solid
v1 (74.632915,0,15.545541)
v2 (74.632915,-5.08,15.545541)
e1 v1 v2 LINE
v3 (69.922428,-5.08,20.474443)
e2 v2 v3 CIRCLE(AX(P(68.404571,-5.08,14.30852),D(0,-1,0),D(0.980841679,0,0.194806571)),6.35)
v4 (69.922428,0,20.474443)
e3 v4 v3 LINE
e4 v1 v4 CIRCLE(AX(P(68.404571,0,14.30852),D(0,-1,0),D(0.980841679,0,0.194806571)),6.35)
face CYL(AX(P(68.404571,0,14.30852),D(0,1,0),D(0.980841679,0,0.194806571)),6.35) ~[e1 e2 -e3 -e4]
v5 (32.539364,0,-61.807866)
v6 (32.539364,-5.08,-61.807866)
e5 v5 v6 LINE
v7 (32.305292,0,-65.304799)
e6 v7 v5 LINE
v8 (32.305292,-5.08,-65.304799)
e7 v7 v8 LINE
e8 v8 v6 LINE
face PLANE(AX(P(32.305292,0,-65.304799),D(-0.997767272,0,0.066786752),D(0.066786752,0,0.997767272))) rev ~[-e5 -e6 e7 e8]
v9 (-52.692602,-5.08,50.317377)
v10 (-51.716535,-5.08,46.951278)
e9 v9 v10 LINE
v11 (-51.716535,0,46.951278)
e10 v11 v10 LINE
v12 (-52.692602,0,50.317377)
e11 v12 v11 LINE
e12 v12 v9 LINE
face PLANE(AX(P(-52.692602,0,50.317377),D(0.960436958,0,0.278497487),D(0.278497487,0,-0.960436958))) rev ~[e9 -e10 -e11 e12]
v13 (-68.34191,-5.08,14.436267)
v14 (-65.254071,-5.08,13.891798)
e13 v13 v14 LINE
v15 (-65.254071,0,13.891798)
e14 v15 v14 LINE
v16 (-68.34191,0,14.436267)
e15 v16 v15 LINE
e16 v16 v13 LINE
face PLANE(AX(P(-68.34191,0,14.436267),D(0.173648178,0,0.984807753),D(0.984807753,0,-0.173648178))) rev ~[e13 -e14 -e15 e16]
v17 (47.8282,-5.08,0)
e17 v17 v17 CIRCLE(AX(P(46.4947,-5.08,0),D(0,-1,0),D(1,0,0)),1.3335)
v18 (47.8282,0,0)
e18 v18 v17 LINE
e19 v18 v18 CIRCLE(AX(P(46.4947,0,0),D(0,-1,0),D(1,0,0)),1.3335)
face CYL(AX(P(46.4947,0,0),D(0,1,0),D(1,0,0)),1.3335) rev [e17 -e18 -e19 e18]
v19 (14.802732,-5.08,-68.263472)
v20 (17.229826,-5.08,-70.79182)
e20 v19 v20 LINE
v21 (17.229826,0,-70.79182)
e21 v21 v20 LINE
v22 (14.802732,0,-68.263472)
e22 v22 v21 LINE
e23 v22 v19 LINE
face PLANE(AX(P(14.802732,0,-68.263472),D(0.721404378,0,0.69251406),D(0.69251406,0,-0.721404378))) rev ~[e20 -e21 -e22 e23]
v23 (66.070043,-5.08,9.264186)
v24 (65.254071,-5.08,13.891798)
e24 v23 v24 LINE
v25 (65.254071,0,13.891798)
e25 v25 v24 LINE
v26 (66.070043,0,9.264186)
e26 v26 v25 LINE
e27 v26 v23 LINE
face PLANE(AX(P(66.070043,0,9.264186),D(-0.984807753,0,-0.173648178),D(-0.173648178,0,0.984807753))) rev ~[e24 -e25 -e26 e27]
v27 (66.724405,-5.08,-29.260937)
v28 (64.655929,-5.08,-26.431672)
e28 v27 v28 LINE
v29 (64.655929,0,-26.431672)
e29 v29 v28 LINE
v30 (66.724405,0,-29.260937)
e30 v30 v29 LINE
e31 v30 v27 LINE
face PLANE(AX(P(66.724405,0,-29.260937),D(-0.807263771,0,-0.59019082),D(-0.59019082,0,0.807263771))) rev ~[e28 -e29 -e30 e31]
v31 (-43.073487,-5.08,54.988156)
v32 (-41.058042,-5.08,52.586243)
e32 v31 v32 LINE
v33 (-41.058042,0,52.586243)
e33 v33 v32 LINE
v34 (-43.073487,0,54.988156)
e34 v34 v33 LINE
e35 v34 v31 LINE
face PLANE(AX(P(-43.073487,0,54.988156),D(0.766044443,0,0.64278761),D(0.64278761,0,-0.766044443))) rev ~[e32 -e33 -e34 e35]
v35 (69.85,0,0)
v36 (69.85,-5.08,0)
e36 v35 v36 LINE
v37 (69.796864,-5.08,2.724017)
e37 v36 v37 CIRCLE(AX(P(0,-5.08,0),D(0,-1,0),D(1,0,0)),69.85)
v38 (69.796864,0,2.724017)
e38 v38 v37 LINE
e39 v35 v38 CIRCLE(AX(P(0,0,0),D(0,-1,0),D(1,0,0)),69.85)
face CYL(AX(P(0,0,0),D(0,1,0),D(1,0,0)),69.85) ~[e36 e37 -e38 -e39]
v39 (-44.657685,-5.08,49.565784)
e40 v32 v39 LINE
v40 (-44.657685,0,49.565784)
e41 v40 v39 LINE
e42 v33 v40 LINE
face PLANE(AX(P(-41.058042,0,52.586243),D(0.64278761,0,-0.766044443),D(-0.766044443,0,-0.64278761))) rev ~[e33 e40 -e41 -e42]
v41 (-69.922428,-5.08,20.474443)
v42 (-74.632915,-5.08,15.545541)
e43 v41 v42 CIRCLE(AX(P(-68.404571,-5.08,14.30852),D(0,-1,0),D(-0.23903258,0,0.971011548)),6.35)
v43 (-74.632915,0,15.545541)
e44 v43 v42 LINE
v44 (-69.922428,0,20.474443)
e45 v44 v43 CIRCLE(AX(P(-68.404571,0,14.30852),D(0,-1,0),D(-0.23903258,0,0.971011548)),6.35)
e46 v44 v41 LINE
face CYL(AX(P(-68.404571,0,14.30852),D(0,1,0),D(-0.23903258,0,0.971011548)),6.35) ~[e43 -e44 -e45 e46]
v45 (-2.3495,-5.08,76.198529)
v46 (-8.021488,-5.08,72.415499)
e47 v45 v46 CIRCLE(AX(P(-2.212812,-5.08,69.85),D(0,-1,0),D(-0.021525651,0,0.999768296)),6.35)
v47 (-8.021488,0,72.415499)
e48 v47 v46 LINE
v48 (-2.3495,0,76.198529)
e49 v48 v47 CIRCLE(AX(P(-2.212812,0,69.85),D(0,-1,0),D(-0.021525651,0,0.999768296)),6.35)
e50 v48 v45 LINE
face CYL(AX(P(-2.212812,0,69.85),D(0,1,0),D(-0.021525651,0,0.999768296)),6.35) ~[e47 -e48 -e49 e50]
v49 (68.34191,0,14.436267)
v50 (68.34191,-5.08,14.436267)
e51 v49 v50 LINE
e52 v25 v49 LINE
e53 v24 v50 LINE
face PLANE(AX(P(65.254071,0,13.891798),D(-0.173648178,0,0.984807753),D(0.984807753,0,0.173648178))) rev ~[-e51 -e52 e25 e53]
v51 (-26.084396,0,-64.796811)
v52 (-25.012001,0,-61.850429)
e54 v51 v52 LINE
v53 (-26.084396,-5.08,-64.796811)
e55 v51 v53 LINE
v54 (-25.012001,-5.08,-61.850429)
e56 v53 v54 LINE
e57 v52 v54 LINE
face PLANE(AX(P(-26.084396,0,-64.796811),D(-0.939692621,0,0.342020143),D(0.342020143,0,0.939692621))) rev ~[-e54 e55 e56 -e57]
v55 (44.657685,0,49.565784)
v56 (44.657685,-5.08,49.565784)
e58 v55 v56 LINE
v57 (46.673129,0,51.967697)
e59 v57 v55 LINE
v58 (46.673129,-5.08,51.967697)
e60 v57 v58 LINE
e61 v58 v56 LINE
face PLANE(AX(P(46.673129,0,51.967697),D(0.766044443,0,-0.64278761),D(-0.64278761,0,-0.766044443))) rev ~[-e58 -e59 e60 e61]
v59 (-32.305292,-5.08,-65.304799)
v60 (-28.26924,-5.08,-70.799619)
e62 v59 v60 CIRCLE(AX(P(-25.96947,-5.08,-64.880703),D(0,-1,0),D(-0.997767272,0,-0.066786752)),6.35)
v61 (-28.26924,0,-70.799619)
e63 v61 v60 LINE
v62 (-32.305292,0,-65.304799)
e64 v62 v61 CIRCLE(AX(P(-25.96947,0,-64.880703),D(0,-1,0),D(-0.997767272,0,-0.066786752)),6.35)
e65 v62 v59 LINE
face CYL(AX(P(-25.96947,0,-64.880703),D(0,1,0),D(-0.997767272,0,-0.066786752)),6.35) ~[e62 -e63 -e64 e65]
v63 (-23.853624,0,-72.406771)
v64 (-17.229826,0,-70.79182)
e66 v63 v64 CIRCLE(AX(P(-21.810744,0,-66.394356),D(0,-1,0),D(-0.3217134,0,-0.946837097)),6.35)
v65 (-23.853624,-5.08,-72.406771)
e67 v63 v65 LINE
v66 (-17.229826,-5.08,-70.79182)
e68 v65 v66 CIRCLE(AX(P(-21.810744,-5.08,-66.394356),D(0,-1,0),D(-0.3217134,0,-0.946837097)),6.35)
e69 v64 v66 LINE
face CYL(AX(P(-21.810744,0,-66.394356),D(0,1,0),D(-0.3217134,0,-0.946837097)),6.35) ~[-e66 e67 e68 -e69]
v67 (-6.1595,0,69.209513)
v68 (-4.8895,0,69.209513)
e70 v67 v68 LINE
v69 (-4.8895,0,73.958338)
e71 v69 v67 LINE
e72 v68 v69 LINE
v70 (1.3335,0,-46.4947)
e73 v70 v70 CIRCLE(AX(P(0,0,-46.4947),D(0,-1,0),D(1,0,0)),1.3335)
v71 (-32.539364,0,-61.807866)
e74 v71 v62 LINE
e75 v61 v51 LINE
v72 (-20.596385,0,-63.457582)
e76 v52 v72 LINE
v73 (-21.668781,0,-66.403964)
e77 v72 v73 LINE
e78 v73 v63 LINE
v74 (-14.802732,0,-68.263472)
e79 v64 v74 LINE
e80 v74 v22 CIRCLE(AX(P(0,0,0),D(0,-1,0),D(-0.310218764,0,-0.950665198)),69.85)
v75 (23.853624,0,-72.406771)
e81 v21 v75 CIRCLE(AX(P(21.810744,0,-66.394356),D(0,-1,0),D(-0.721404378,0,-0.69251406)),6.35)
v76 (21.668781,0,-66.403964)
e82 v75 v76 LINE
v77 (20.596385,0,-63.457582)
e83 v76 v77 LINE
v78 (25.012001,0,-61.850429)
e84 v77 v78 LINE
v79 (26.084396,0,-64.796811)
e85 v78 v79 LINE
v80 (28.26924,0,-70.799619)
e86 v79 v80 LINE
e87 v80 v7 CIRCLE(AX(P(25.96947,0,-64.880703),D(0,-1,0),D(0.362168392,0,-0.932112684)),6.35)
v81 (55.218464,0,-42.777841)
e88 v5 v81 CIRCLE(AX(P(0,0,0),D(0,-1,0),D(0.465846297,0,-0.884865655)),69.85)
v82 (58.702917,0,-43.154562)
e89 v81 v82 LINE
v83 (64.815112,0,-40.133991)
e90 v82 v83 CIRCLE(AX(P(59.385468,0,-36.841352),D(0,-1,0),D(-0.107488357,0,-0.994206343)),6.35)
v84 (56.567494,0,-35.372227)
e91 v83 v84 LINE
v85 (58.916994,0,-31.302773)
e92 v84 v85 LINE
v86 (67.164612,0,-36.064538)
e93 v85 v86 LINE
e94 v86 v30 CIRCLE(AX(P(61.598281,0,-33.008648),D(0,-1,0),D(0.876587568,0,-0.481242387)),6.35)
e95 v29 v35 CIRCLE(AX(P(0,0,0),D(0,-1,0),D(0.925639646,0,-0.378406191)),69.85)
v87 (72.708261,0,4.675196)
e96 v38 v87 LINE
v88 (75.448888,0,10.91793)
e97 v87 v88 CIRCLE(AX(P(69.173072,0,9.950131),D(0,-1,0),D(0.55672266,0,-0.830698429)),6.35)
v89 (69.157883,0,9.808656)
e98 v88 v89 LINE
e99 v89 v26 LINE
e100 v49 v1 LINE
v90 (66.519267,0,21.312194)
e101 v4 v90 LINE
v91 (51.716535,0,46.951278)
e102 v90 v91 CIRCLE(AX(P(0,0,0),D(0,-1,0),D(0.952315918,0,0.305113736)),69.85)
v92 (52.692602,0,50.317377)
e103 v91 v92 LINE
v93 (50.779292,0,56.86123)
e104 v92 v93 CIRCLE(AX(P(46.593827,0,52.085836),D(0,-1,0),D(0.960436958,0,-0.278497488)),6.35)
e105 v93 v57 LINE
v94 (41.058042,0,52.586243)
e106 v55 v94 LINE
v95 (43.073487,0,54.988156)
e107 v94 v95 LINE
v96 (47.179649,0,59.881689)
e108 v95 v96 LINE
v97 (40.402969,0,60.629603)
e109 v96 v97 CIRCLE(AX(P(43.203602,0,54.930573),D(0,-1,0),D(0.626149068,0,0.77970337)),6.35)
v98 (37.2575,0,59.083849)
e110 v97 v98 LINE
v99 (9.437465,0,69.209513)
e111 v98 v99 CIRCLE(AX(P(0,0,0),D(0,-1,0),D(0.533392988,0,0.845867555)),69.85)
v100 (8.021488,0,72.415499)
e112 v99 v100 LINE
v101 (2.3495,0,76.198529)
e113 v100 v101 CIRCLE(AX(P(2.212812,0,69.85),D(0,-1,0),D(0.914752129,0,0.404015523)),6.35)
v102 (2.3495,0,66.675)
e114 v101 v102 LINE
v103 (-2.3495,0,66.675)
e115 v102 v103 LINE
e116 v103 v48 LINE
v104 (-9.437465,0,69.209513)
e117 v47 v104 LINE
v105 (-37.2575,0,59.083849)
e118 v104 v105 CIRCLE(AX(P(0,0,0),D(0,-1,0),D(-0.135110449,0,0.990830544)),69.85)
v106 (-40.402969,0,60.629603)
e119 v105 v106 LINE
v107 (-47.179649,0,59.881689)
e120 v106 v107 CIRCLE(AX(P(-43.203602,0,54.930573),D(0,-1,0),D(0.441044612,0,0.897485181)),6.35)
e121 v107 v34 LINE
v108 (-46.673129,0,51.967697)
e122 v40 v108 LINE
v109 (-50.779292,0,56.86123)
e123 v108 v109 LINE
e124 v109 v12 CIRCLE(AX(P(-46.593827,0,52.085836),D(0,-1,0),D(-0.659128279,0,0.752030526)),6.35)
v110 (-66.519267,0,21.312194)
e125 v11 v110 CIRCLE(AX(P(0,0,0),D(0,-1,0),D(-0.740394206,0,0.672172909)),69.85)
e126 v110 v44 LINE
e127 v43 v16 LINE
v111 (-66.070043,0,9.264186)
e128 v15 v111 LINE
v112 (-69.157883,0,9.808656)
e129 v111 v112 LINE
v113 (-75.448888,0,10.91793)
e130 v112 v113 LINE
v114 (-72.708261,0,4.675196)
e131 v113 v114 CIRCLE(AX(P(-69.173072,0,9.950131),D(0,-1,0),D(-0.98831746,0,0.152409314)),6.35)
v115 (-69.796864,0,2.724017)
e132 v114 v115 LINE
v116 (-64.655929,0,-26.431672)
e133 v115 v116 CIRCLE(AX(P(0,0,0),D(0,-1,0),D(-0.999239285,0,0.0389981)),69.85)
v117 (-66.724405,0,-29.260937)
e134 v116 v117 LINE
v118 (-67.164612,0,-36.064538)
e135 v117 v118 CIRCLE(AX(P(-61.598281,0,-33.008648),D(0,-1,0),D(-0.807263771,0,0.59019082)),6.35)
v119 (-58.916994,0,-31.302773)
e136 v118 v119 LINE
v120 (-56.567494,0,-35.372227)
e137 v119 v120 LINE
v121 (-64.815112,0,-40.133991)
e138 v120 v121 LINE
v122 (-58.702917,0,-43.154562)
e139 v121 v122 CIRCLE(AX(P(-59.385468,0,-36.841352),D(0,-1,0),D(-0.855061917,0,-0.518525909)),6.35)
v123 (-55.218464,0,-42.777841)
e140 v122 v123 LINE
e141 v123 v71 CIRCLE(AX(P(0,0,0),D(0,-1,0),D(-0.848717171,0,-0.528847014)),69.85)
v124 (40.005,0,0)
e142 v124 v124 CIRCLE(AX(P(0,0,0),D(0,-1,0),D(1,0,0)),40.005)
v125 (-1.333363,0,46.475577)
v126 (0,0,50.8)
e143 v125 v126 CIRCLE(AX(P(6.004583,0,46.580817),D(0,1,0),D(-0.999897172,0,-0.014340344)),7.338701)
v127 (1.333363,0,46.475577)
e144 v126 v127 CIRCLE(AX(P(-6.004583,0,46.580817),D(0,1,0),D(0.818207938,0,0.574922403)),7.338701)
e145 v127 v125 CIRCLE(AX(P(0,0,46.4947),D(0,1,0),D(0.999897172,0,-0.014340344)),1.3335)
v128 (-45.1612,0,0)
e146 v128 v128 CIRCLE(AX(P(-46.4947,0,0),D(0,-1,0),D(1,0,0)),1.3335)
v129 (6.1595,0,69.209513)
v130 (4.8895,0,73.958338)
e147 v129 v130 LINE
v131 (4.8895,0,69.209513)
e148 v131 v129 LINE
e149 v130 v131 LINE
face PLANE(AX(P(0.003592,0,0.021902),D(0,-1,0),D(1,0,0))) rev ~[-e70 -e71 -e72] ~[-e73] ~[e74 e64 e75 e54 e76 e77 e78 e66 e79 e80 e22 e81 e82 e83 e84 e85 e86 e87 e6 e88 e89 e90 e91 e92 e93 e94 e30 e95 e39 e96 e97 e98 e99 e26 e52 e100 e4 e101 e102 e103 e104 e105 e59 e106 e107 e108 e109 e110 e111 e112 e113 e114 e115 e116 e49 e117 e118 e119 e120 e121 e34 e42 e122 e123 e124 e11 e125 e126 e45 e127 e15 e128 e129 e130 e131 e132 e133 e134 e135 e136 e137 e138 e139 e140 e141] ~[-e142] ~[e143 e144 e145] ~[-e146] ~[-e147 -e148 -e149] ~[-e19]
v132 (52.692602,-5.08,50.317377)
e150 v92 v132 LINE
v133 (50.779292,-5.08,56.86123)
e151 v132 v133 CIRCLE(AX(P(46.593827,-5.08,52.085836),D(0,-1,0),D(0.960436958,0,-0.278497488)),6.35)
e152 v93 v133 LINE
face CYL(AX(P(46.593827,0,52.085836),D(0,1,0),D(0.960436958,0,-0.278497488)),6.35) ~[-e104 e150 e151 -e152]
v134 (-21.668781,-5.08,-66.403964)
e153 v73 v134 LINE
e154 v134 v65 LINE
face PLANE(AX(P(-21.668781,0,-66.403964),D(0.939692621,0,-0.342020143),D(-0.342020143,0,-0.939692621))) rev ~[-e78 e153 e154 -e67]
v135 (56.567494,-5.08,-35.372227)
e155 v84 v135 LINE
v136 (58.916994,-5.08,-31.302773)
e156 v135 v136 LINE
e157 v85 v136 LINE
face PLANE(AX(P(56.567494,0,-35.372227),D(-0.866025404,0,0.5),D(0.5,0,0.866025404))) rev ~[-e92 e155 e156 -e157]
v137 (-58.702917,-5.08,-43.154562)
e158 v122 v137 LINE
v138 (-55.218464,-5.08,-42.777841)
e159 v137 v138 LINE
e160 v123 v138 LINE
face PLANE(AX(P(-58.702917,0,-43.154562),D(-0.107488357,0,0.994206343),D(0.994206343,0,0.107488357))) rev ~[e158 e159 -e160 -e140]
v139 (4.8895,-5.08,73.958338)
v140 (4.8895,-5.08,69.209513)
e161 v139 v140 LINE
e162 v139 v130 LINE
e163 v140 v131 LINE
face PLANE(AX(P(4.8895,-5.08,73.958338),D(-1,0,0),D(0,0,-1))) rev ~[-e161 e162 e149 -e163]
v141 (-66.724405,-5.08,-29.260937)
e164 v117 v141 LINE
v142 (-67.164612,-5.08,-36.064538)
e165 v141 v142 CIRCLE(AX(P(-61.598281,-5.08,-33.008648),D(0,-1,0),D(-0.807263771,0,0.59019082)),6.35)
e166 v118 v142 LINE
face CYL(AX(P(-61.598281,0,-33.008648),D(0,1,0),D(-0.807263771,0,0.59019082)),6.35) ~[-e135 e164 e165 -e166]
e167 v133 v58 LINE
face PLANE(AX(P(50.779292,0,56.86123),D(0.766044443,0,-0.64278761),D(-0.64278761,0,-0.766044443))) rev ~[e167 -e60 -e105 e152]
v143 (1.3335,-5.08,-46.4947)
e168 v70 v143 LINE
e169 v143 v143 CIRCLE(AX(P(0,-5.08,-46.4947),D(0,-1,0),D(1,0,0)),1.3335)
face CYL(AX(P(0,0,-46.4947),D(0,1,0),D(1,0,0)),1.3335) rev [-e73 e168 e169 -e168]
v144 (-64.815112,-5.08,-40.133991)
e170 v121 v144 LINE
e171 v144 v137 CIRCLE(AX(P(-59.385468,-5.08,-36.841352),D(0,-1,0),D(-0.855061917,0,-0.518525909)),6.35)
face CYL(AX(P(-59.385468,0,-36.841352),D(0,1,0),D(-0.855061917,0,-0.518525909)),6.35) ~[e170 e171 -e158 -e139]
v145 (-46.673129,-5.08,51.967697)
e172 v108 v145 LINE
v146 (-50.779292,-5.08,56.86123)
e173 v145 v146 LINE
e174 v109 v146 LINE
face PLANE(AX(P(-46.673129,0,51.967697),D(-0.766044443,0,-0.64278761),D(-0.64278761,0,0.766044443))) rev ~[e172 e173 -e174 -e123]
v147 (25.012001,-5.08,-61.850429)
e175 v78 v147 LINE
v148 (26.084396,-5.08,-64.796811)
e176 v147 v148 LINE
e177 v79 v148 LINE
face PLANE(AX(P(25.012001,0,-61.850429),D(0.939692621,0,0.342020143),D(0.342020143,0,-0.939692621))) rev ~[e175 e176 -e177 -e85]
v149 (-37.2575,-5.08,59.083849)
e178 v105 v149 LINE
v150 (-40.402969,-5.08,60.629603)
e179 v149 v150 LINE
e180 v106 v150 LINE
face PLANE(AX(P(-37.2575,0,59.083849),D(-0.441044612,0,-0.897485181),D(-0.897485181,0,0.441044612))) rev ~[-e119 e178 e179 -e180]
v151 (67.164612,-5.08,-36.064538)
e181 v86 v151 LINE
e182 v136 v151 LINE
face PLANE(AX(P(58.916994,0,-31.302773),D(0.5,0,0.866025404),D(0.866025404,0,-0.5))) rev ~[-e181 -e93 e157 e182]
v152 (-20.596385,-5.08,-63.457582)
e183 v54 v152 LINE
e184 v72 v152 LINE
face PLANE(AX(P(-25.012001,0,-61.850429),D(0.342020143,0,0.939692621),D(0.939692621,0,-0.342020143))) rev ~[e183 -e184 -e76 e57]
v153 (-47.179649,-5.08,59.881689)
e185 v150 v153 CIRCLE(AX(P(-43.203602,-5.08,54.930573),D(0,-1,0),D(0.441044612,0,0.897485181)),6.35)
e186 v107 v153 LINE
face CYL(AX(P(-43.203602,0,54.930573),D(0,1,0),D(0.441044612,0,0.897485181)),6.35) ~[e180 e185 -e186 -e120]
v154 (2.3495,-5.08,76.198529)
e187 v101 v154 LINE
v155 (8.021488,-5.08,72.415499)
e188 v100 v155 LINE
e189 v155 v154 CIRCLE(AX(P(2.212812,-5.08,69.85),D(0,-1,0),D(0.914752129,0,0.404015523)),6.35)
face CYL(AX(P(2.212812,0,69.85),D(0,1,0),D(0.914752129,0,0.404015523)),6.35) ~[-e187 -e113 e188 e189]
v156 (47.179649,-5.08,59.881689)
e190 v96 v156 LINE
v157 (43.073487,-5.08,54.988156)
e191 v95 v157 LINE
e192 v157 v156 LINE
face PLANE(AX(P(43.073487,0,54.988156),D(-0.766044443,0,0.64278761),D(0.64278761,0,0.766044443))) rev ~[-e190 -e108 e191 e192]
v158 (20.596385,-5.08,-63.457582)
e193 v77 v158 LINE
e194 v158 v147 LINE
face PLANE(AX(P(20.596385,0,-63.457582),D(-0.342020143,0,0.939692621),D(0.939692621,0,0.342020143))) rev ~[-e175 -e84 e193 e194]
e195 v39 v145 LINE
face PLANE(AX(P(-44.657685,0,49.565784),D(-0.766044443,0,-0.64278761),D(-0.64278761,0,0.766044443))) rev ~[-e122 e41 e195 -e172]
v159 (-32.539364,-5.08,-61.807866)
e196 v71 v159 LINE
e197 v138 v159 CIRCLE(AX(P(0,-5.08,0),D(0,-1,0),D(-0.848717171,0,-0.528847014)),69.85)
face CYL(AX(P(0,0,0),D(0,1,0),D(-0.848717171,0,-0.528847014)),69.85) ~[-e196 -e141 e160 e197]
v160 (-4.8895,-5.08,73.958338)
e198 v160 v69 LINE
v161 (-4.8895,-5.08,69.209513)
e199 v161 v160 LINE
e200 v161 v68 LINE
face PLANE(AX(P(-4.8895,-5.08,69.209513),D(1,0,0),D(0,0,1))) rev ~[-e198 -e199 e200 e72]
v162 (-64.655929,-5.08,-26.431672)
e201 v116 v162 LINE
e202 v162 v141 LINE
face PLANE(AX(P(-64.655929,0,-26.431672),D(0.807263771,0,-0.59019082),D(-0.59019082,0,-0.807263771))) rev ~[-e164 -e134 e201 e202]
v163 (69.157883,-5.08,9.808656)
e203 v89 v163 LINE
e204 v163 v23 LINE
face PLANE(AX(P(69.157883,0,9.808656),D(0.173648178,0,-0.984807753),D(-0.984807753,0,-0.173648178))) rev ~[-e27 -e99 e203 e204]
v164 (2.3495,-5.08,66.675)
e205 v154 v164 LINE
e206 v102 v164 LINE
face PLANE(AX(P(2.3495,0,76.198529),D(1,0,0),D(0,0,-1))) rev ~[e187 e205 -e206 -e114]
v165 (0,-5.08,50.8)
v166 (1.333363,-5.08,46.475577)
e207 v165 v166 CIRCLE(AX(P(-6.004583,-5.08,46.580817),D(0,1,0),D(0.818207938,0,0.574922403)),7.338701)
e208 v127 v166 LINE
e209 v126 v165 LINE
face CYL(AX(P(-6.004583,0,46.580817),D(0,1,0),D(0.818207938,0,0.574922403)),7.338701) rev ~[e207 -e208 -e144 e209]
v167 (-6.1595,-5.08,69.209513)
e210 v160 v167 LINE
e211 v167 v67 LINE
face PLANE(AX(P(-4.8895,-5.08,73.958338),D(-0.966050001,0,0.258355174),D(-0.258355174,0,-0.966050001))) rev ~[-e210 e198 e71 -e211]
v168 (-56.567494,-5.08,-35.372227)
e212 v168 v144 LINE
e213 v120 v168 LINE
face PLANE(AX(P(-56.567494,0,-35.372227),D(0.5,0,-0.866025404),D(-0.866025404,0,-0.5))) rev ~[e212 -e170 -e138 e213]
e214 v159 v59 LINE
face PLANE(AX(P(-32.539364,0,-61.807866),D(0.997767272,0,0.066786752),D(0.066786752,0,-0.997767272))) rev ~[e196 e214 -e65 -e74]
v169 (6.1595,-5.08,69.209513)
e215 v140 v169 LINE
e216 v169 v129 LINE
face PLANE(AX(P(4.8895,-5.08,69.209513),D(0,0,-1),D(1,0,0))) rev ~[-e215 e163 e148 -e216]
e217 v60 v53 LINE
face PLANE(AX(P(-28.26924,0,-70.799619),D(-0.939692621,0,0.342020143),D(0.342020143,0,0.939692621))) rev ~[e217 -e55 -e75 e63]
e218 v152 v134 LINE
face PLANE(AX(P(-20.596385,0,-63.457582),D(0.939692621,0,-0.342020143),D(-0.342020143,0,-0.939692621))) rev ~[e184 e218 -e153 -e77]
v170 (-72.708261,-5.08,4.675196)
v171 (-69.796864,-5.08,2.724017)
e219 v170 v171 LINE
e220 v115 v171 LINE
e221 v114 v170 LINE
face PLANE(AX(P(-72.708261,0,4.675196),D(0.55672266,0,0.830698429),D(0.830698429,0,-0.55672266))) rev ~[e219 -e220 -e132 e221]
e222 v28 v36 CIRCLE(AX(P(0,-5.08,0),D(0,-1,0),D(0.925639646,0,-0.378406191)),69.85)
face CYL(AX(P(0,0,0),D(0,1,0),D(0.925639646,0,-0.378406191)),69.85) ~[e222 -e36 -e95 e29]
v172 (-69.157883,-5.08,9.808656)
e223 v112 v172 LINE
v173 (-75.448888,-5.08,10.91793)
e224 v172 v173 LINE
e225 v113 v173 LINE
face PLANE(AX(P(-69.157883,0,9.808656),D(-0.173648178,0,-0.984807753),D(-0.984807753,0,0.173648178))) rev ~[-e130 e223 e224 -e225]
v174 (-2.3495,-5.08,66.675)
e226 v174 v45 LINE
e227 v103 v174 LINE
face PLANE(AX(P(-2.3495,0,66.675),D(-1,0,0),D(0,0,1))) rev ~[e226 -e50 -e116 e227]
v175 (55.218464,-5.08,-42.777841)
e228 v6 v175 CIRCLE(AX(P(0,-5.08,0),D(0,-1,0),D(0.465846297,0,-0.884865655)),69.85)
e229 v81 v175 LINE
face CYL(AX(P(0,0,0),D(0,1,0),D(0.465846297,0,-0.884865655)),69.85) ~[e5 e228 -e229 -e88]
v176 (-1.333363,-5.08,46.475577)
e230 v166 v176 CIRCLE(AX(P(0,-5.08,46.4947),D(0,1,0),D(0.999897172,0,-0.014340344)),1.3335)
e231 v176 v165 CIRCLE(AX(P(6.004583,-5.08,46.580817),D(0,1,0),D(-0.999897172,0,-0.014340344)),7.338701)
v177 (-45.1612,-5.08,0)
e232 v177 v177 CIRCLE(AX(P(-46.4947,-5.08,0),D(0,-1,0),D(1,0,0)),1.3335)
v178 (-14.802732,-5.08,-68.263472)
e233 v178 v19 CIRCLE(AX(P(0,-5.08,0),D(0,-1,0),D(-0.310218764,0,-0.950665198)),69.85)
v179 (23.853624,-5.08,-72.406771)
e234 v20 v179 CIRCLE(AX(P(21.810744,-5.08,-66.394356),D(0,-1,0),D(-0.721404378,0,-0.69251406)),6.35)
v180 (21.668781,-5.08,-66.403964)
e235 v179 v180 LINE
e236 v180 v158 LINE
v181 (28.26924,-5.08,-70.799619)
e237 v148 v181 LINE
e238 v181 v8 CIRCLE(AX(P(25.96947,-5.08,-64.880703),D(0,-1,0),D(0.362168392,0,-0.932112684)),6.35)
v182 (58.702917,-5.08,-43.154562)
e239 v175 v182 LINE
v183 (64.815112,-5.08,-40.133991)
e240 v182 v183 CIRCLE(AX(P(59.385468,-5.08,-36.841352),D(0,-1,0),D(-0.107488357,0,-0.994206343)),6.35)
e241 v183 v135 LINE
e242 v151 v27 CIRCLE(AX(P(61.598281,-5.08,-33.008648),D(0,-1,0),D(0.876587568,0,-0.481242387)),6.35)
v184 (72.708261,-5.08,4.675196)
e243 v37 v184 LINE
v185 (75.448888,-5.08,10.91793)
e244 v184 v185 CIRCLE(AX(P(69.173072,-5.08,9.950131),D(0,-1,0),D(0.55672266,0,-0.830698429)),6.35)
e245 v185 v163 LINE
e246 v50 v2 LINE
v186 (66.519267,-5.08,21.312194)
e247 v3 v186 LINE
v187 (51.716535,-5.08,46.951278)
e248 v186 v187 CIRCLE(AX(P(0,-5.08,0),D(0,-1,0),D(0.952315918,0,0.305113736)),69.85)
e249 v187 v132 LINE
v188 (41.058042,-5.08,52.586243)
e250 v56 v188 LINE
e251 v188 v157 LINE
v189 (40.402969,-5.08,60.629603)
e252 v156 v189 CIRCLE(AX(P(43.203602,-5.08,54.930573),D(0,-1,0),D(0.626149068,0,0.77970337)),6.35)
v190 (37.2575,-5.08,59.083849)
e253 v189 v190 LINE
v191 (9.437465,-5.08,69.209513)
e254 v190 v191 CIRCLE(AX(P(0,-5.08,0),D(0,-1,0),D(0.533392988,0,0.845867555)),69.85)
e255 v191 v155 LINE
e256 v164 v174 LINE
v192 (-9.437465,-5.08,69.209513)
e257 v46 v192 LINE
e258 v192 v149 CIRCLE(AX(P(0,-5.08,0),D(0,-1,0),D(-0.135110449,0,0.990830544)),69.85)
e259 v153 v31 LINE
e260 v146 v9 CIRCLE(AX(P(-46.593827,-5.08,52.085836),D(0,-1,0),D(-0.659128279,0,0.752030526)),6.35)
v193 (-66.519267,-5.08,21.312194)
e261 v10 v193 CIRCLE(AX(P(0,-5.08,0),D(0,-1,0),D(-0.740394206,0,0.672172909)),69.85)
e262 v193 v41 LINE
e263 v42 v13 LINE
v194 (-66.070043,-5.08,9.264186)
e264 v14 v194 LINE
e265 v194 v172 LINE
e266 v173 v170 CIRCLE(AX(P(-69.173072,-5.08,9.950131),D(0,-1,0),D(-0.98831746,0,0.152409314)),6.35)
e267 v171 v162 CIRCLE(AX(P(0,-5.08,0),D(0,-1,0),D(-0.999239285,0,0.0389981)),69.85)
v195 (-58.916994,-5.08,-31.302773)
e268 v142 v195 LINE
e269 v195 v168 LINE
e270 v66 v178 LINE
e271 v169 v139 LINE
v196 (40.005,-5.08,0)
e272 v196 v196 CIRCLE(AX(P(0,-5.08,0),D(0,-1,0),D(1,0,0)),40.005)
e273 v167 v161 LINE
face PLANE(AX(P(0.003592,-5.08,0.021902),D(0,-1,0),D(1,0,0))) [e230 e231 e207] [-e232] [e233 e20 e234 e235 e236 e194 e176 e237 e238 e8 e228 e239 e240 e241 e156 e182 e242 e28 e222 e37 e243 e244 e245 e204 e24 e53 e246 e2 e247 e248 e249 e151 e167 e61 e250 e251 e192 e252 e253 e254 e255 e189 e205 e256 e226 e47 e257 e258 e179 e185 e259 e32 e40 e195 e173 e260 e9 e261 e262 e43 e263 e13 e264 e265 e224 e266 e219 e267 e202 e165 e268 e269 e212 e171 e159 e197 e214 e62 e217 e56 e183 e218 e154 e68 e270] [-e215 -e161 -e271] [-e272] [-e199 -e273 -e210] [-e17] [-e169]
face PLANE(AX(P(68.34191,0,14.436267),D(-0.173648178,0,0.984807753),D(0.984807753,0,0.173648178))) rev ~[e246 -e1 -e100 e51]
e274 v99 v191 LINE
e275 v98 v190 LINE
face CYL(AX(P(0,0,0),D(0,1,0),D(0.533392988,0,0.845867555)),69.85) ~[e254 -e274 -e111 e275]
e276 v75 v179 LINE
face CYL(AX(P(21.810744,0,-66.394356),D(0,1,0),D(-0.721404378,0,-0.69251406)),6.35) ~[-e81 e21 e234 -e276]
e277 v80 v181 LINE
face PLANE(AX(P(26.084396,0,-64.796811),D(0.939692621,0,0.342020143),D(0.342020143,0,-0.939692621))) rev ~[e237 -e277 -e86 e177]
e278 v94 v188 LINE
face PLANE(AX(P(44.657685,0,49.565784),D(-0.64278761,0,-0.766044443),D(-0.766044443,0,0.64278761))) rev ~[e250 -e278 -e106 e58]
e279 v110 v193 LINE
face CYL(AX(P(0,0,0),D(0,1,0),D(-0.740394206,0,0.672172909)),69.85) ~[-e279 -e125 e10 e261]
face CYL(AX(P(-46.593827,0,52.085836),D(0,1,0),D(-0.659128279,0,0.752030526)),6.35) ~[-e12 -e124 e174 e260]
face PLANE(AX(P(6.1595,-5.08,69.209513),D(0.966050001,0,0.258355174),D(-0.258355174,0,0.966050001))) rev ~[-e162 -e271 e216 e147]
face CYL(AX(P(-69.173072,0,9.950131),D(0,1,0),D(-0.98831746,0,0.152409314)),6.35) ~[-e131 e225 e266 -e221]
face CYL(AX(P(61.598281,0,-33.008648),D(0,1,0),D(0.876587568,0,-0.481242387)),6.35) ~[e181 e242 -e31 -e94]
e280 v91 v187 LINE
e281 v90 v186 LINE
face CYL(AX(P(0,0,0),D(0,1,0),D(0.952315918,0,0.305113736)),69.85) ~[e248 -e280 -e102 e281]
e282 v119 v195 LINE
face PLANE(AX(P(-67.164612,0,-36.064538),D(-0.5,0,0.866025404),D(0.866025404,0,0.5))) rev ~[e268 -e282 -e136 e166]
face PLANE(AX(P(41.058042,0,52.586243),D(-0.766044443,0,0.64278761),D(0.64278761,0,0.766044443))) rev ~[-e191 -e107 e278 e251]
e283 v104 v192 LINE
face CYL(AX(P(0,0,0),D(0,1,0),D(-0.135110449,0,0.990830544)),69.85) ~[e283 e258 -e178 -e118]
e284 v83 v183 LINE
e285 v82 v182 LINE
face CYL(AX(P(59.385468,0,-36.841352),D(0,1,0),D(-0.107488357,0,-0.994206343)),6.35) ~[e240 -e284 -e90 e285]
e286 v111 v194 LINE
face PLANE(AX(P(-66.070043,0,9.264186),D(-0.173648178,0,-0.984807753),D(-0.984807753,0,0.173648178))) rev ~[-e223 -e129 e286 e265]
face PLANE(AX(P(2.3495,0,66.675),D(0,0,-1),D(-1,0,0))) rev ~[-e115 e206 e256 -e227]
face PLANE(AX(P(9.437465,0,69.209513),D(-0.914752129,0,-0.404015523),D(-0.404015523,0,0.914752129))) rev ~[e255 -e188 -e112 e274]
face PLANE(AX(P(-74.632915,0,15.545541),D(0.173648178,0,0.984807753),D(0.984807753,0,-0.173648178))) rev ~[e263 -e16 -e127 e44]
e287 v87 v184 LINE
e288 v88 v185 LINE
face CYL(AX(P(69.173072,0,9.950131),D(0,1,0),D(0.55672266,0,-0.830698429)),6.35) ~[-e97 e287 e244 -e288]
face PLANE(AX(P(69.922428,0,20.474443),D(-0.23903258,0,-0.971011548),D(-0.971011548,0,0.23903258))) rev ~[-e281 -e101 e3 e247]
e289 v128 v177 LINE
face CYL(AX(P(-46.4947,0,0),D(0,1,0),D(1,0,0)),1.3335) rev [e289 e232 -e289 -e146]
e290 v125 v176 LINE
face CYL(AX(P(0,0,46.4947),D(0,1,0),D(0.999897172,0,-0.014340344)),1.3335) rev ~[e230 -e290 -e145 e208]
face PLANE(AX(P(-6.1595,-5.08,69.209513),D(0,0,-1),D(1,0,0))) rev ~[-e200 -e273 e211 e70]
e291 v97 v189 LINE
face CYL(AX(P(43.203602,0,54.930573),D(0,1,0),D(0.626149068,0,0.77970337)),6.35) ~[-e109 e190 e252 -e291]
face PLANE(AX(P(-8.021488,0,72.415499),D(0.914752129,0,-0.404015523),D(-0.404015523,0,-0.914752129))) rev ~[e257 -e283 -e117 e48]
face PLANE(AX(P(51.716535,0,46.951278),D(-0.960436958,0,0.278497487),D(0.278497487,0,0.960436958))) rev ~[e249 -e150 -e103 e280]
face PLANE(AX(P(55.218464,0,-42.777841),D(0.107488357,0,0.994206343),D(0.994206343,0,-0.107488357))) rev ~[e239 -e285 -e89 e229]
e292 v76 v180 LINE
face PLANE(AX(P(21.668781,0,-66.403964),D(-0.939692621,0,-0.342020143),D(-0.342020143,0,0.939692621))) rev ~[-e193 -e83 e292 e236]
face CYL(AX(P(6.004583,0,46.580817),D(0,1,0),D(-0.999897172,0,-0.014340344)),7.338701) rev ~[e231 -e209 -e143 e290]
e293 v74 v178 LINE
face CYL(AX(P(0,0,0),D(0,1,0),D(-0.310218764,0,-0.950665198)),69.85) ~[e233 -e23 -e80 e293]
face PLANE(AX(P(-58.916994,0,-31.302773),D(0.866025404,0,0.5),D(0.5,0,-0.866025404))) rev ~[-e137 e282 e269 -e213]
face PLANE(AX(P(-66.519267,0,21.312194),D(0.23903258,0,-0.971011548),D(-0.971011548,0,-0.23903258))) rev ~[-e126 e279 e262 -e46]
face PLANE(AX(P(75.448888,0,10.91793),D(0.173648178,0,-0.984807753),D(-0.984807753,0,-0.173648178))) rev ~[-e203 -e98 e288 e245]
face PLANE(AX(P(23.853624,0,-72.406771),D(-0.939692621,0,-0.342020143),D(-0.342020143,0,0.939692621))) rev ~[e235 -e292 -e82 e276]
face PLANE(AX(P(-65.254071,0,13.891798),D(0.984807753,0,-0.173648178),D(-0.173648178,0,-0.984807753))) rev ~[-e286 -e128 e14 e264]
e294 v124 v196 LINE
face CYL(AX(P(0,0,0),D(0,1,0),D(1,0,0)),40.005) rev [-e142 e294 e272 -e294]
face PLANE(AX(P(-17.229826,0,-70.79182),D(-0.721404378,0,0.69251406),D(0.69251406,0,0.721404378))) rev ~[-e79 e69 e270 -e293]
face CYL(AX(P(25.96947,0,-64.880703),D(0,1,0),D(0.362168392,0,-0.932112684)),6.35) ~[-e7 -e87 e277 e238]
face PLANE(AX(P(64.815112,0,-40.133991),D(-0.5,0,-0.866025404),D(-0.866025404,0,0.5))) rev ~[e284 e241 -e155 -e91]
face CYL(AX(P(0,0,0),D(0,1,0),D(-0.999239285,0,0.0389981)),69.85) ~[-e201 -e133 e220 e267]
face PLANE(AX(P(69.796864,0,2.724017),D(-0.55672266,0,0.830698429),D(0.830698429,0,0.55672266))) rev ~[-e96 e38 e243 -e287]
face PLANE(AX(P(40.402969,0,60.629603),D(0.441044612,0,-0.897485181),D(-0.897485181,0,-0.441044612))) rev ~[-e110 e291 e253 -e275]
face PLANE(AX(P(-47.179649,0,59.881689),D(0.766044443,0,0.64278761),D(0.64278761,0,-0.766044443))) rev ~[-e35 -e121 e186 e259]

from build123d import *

# Parameters (mm, degrees)
F0_R     = 1.3335
F0_R_2   = 40.005
F1_DEPTH = 5.08
F3_DEPTH = 5.08


with BuildPart() as f1:
    # F0 (on Front) → F1 (new body)
    with BuildSketch(Plane.XZ):
        with BuildLine():
            ThreePointArc((64.6559292996, -26.4316724103), (68.5391828138, -13.4685900974), (69.85, 0))
            ThreePointArc((69.85, 0), (69.8367147463, 1.3622677557), (69.796864039, 2.7240173131))
            ThreePointArc((69.796864039, 2.7240173131), (69.5676178372, 6.2744759504), (69.1578829213, 9.8086558631))
            Line((69.1578829213, 9.8086558631), (66.0700433255, 9.2641864302))
            Line((66.0700433255, 9.2641864302), (65.2540705387, 13.8917980616))
            Line((65.2540705387, 13.8917980616), (68.3419101345, 14.4362674945))
            ThreePointArc((68.3419101345, 14.4362674945), (67.5181742912, 17.8974478736), (66.5192668833, 21.3121944743))
            ThreePointArc((66.5192668833, 21.3121944743), (60.4918744543, 34.925), (51.7165352668, 46.9512777249))
            ThreePointArc((51.7165352668, 46.9512777249), (49.258731667, 49.5237302165), (46.6731294533, 51.9676965724))
            Line((46.6731294533, 51.9676965724), (44.657685295, 49.565783756))
            Line((44.657685295, 49.565783756), (41.0580424567, 52.5862427339))
            Line((41.0580424567, 52.5862427339), (43.0734866151, 54.9881555503))
            ThreePointArc((43.0734866151, 54.9881555503), (40.2176644871, 57.1100863526), (37.257500213, 59.0838487057))
            ThreePointArc((37.257500213, 59.0838487057), (23.8901070113, 65.6375295619), (9.4374648779, 69.2095134839))
            ThreePointArc((9.4374648779, 69.2095134839), (5.9011375, 69.6002807193), (2.3495, 69.8104744988))
            Line((2.3495, 69.8104744988), (2.3495, 66.675))
            Line((2.3495, 66.675), (-2.3495, 66.675))
            Line((-2.3495, 66.675), (-2.3495, 69.8104744988))
            ThreePointArc((-2.3495, 69.8104744988), (-5.9011375, 69.6002807193), (-9.4374648779, 69.2095134839))
            ThreePointArc((-9.4374648779, 69.2095134839), (-23.8901070113, 65.6375295619), (-37.257500213, 59.0838487057))
            ThreePointArc((-37.257500213, 59.0838487057), (-40.2176644871, 57.1100863526), (-43.0734866151, 54.9881555503))
            Line((-43.0734866151, 54.9881555503), (-41.0580424567, 52.5862427339))
            Line((-41.0580424567, 52.5862427339), (-44.657685295, 49.565783756))
            Line((-44.657685295, 49.565783756), (-46.6731294533, 51.9676965724))
            ThreePointArc((-46.6731294533, 51.9676965724), (-49.258731667, 49.5237302165), (-51.7165352668, 46.9512777249))
            ThreePointArc((-51.7165352668, 46.9512777249), (-60.4918744543, 34.925), (-66.5192668833, 21.3121944743))
            ThreePointArc((-66.5192668833, 21.3121944743), (-67.5181742912, 17.8974478736), (-68.3419101345, 14.4362674945))
            Line((-68.3419101345, 14.4362674945), (-65.2540705387, 13.8917980616))
            Line((-65.2540705387, 13.8917980616), (-66.0700433255, 9.2641864302))
            Line((-66.0700433255, 9.2641864302), (-69.1578829213, 9.8086558631))
            ThreePointArc((-69.1578829213, 9.8086558631), (-69.5676178372, 6.2744759504), (-69.796864039, 2.7240173131))
            ThreePointArc((-69.796864039, 2.7240173131), (-68.7888215479, -12.12932521), (-64.6559292996, -26.4316724103))
            ThreePointArc((-64.6559292996, -26.4316724103), (-63.2261799634, -29.6896053734), (-61.6323943662, -32.8705105632))
            Line((-61.6323943662, -32.8705105632), (-58.9169937973, -31.3027733138))
            Line((-58.9169937973, -31.3027733138), (-56.5674937973, -35.3722266862))
            Line((-56.5674937973, -35.3722266862), (-59.2828943662, -36.9399639356))
            ThreePointArc((-59.2828943662, -36.9399639356), (-57.3250424634, -39.9106753459), (-55.2184644216, -42.7778410736))
            ThreePointArc((-55.2184644216, -42.7778410736), (-44.8987145366, -53.5082043519), (-32.539363826, -61.8078660188))
            ThreePointArc((-32.539363826, -61.8078660188), (-29.3499533501, -63.384562303), (-26.0843963063, -64.7968114134))
            Line((-26.0843963063, -64.7968114134), (-25.0120008688, -61.8504291642))
            Line((-25.0120008688, -61.8504291642), (-20.5963852437, -63.4575818176))
            Line((-20.5963852437, -63.4575818176), (-21.6687806812, -66.4039640668))
            ThreePointArc((-21.6687806812, -66.4039640668), (-18.2594426241, -67.4211780901), (-14.8027316165, -68.2634721992))
            ThreePointArc((-14.8027316165, -68.2634721992), (0, -69.85), (14.8027316165, -68.2634721992))
            ThreePointArc((14.8027316165, -68.2634721992), (18.2594426241, -67.4211780901), (21.6687806812, -66.4039640668))
            Line((21.6687806812, -66.4039640668), (20.5963852437, -63.4575818176))
            Line((20.5963852437, -63.4575818176), (25.0120008688, -61.8504291642))
            Line((25.0120008688, -61.8504291642), (26.0843963063, -64.7968114134))
            ThreePointArc((26.0843963063, -64.7968114134), (29.3499533501, -63.384562303), (32.539363826, -61.8078660188))
            ThreePointArc((32.539363826, -61.8078660188), (44.8987145366, -53.5082043519), (55.2184644216, -42.7778410736))
            ThreePointArc((55.2184644216, -42.7778410736), (57.3250424634, -39.9106753459), (59.2828943662, -36.9399639356))
            Line((59.2828943662, -36.9399639356), (56.5674937973, -35.3722266862))
            Line((56.5674937973, -35.3722266862), (58.9169937973, -31.3027733138))
            Line((58.9169937973, -31.3027733138), (61.6323943662, -32.8705105632))
            ThreePointArc((61.6323943662, -32.8705105632), (63.2261799634, -29.6896053734), (64.6559292996, -26.4316724103))
        make_face()
        with Locations((-46.4947, 0)):
            Circle(F0_R, mode=Mode.SUBTRACT)
        with Locations((0, -46.4947)):
            Circle(F0_R, mode=Mode.SUBTRACT)
        Circle(F0_R_2, mode=Mode.SUBTRACT)
        with Locations((46.4947, 0)):
            Circle(F0_R, mode=Mode.SUBTRACT)
        with BuildLine():
            ThreePointArc((1.3333628788, 46.4755771511), (0, 45.1612), (-1.3333628788, 46.4755771511))
            ThreePointArc((-1.3333628788, 46.4755771511), (-1.0083284803, 48.7431296807), (0, 50.8))
            ThreePointArc((0, 50.8), (1.0083284803, 48.7431296807), (1.3333628788, 46.4755771511))
        make_face(mode=Mode.SUBTRACT)
        with BuildLine():
            ThreePointArc((-43.0734866151, 54.9881555503), (-40.2176644871, 57.1100863526), (-37.257500213, 59.0838487057))
            Line((-37.257500213, 59.0838487057), (-40.4029688253, 60.6296034594))
            ThreePointArc((-40.4029688253, 60.6296034594), (-43.9001960603, 61.242248794), (-47.1796486938, 59.8816889594))
            Line((-47.1796486938, 59.8816889594), (-43.0734866151, 54.9881555503))
        make_face()
        with BuildLine():
            ThreePointArc((-51.7165352668, 46.9512777249), (-49.258731667, 49.5237302165), (-46.6731294533, 51.9676965724))
            Line((-46.6731294533, 51.9676965724), (-50.779291532, 56.8612299815))
            ThreePointArc((-50.779291532, 56.8612299815), (-52.6886523792, 53.8678583382), (-52.69260164, 50.3173770972))
            Line((-52.69260164, 50.3173770972), (-51.7165352668, 46.9512777249))
        make_face()
        with BuildLine():
            ThreePointArc((-9.4374648779, 69.2095134839), (-5.9011375, 69.6002807193), (-2.3495, 69.8104744988))
            Line((-2.3495, 69.8104744988), (-2.3495, 76.1985286816))
            ThreePointArc((-2.3495, 76.1985286816), (-5.7362574703, 75.1327864631), (-8.0214881298, 72.415498574))
            Line((-8.0214881298, 72.415498574), (-9.4374648779, 69.2095134839))
        make_face()
        with BuildLine():
            ThreePointArc((2.3495, 69.8104744988), (5.9011375, 69.6002807193), (9.4374648779, 69.2095134839))
            Line((9.4374648779, 69.2095134839), (8.0214881298, 72.415498574))
            ThreePointArc((8.0214881298, 72.415498574), (5.7362574703, 75.1327864631), (2.3495, 76.1985286816))
            Line((2.3495, 76.1985286816), (2.3495, 69.8104744988))
        make_face()
        with BuildLine():
            ThreePointArc((37.257500213, 59.0838487057), (40.2176644871, 57.1100863526), (43.0734866151, 54.9881555503))
            Line((43.0734866151, 54.9881555503), (47.1796486938, 59.8816889594))
            ThreePointArc((47.1796486938, 59.8816889594), (43.9001960603, 61.242248794), (40.4029688253, 60.6296034594))
            Line((40.4029688253, 60.6296034594), (37.257500213, 59.0838487057))
        make_face()
        with BuildLine():
            ThreePointArc((46.6731294533, 51.9676965724), (49.258731667, 49.5237302165), (51.7165352668, 46.9512777249))
            Line((51.7165352668, 46.9512777249), (52.69260164, 50.3173770972))
            ThreePointArc((52.69260164, 50.3173770972), (52.6886523792, 53.8678583382), (50.779291532, 56.8612299815))
            Line((50.779291532, 56.8612299815), (46.6731294533, 51.9676965724))
        make_face()
        with BuildLine():
            ThreePointArc((66.5192668833, 21.3121944743), (67.5181742912, 17.8974478736), (68.3419101345, 14.4362674945))
            Line((68.3419101345, 14.4362674945), (74.6329154204, 15.5455414622))
            ThreePointArc((74.6329154204, 15.5455414622), (72.9952599579, 18.6957822824), (69.922427638, 20.4744430631))
            Line((69.922427638, 20.4744430631), (66.5192668833, 21.3121944743))
        make_face()
        with BuildLine():
            ThreePointArc((69.1578829213, 9.8086558631), (69.5676178372, 6.2744759504), (69.796864039, 2.7240173131))
            Line((69.796864039, 2.7240173131), (72.7082612299, 4.6751956613))
            ThreePointArc((72.7082612299, 4.6751956613), (74.9874412706, 7.3975606223), (75.4488882072, 10.9179298308))
            Line((75.4488882072, 10.9179298308), (69.1578829213, 9.8086558631))
        make_face()
        with BuildLine():
            Line((66.7244054577, -29.2609367904), (64.6559292996, -26.4316724103))
            ThreePointArc((64.6559292996, -26.4316724103), (63.2261799634, -29.6896053734), (61.6323943662, -32.8705105632))
            Line((61.6323943662, -32.8705105632), (67.1646115693, -36.0645376546))
            ThreePointArc((67.1646115693, -36.0645376546), (67.9350304693, -32.5986485396), (66.7244054577, -29.2609367904))
        make_face()
        with BuildLine():
            Line((64.8151115693, -40.133991027), (59.2828943662, -36.9399639356))
            ThreePointArc((59.2828943662, -36.9399639356), (57.3250424634, -39.9106753459), (55.2184644216, -42.7778410736))
            Line((55.2184644216, -42.7778410736), (58.7029173279, -43.1545617836))
            ThreePointArc((58.7029173279, -43.1545617836), (62.198772999, -42.5341379235), (64.8151115693, -40.133991027))
        make_face()
        with BuildLine():
            Line((23.8536238884, -72.4067714436), (21.6687806812, -66.4039640668))
            ThreePointArc((21.6687806812, -66.4039640668), (18.2594426241, -67.4211780901), (14.8027316165, -68.2634721992))
            Line((14.8027316165, -68.2634721992), (17.229825998, -70.7918201604))
            ThreePointArc((17.229825998, -70.7918201604), (20.3066075788, -72.5636406206), (23.8536238884, -72.4067714436))
        make_face()
        with BuildLine():
            Line((32.3052924046, -65.3047991207), (32.539363826, -61.8078660188))
            ThreePointArc((32.539363826, -61.8078660188), (29.3499533501, -63.384562303), (26.0843963063, -64.7968114134))
            Line((26.0843963063, -64.7968114134), (28.2692395134, -70.7996187901))
            ThreePointArc((28.2692395134, -70.7996187901), (31.0872452104, -68.6398094163), (32.3052924046, -65.3047991207))
        make_face()
        with BuildLine():
            Line((-28.2692395134, -70.7996187901), (-26.0843963063, -64.7968114134))
            ThreePointArc((-26.0843963063, -64.7968114134), (-29.3499533501, -63.384562303), (-32.539363826, -61.8078660188))
            Line((-32.539363826, -61.8078660188), (-32.3052924046, -65.3047991207))
            ThreePointArc((-32.3052924046, -65.3047991207), (-31.0872452104, -68.6398094163), (-28.2692395134, -70.7996187901))
        make_face()
        with BuildLine():
            Line((-17.229825998, -70.7918201604), (-14.8027316165, -68.2634721992))
            ThreePointArc((-14.8027316165, -68.2634721992), (-18.2594426241, -67.4211780901), (-21.6687806812, -66.4039640668))
            Line((-21.6687806812, -66.4039640668), (-23.8536238884, -72.4067714436))
            ThreePointArc((-23.8536238884, -72.4067714436), (-20.3066075788, -72.5636406206), (-17.229825998, -70.7918201604))
        make_face()
        with BuildLine():
            Line((-58.7029173279, -43.1545617836), (-55.2184644216, -42.7778410736))
            ThreePointArc((-55.2184644216, -42.7778410736), (-57.3250424634, -39.9106753459), (-59.2828943662, -36.9399639356))
            Line((-59.2828943662, -36.9399639356), (-64.8151115693, -40.133991027))
            ThreePointArc((-64.8151115693, -40.133991027), (-62.198772999, -42.5341379235), (-58.7029173279, -43.1545617836))
        make_face()
        with BuildLine():
            Line((-67.1646115693, -36.0645376546), (-61.6323943662, -32.8705105632))
            ThreePointArc((-61.6323943662, -32.8705105632), (-63.2261799634, -29.6896053734), (-64.6559292996, -26.4316724103))
            Line((-64.6559292996, -26.4316724103), (-66.7244054577, -29.2609367904))
            ThreePointArc((-66.7244054577, -29.2609367904), (-67.9350304693, -32.5986485396), (-67.1646115693, -36.0645376546))
        make_face()
        with BuildLine():
            Line((-72.7082612299, 4.6751956613), (-69.796864039, 2.7240173131))
            ThreePointArc((-69.796864039, 2.7240173131), (-69.5676178372, 6.2744759504), (-69.1578829213, 9.8086558631))
            Line((-69.1578829213, 9.8086558631), (-75.4488882072, 10.9179298308))
            ThreePointArc((-75.4488882072, 10.9179298308), (-74.9874412706, 7.3975606223), (-72.7082612299, 4.6751956613))
        make_face()
        with BuildLine():
            ThreePointArc((-68.3419101345, 14.4362674945), (-67.5181742912, 17.8974478736), (-66.5192668833, 21.3121944743))
            Line((-66.5192668833, 21.3121944743), (-69.922427638, 20.4744430631))
            ThreePointArc((-69.922427638, 20.4744430631), (-72.9952599579, 18.6957822824), (-74.6329154204, 15.5455414622))
            Line((-74.6329154204, 15.5455414622), (-68.3419101345, 14.4362674945))
        make_face()
    extrude(amount=F1_DEPTH)

    # F2 (on face) → F3 (cut, through all)
    with BuildSketch(Plane.XZ.offset(5.08)):
        Polygon((-4.8895, 69.2095134839), (-4.8895, 73.9583384527), (-6.1595, 69.2095134839), align=None)
        Polygon((6.1595, 69.2095134839), (4.8895, 73.9583384527), (4.8895, 69.2095134839), align=None)
    extrude(amount=-F3_DEPTH, mode=Mode.SUBTRACT)


solid = f1.part
